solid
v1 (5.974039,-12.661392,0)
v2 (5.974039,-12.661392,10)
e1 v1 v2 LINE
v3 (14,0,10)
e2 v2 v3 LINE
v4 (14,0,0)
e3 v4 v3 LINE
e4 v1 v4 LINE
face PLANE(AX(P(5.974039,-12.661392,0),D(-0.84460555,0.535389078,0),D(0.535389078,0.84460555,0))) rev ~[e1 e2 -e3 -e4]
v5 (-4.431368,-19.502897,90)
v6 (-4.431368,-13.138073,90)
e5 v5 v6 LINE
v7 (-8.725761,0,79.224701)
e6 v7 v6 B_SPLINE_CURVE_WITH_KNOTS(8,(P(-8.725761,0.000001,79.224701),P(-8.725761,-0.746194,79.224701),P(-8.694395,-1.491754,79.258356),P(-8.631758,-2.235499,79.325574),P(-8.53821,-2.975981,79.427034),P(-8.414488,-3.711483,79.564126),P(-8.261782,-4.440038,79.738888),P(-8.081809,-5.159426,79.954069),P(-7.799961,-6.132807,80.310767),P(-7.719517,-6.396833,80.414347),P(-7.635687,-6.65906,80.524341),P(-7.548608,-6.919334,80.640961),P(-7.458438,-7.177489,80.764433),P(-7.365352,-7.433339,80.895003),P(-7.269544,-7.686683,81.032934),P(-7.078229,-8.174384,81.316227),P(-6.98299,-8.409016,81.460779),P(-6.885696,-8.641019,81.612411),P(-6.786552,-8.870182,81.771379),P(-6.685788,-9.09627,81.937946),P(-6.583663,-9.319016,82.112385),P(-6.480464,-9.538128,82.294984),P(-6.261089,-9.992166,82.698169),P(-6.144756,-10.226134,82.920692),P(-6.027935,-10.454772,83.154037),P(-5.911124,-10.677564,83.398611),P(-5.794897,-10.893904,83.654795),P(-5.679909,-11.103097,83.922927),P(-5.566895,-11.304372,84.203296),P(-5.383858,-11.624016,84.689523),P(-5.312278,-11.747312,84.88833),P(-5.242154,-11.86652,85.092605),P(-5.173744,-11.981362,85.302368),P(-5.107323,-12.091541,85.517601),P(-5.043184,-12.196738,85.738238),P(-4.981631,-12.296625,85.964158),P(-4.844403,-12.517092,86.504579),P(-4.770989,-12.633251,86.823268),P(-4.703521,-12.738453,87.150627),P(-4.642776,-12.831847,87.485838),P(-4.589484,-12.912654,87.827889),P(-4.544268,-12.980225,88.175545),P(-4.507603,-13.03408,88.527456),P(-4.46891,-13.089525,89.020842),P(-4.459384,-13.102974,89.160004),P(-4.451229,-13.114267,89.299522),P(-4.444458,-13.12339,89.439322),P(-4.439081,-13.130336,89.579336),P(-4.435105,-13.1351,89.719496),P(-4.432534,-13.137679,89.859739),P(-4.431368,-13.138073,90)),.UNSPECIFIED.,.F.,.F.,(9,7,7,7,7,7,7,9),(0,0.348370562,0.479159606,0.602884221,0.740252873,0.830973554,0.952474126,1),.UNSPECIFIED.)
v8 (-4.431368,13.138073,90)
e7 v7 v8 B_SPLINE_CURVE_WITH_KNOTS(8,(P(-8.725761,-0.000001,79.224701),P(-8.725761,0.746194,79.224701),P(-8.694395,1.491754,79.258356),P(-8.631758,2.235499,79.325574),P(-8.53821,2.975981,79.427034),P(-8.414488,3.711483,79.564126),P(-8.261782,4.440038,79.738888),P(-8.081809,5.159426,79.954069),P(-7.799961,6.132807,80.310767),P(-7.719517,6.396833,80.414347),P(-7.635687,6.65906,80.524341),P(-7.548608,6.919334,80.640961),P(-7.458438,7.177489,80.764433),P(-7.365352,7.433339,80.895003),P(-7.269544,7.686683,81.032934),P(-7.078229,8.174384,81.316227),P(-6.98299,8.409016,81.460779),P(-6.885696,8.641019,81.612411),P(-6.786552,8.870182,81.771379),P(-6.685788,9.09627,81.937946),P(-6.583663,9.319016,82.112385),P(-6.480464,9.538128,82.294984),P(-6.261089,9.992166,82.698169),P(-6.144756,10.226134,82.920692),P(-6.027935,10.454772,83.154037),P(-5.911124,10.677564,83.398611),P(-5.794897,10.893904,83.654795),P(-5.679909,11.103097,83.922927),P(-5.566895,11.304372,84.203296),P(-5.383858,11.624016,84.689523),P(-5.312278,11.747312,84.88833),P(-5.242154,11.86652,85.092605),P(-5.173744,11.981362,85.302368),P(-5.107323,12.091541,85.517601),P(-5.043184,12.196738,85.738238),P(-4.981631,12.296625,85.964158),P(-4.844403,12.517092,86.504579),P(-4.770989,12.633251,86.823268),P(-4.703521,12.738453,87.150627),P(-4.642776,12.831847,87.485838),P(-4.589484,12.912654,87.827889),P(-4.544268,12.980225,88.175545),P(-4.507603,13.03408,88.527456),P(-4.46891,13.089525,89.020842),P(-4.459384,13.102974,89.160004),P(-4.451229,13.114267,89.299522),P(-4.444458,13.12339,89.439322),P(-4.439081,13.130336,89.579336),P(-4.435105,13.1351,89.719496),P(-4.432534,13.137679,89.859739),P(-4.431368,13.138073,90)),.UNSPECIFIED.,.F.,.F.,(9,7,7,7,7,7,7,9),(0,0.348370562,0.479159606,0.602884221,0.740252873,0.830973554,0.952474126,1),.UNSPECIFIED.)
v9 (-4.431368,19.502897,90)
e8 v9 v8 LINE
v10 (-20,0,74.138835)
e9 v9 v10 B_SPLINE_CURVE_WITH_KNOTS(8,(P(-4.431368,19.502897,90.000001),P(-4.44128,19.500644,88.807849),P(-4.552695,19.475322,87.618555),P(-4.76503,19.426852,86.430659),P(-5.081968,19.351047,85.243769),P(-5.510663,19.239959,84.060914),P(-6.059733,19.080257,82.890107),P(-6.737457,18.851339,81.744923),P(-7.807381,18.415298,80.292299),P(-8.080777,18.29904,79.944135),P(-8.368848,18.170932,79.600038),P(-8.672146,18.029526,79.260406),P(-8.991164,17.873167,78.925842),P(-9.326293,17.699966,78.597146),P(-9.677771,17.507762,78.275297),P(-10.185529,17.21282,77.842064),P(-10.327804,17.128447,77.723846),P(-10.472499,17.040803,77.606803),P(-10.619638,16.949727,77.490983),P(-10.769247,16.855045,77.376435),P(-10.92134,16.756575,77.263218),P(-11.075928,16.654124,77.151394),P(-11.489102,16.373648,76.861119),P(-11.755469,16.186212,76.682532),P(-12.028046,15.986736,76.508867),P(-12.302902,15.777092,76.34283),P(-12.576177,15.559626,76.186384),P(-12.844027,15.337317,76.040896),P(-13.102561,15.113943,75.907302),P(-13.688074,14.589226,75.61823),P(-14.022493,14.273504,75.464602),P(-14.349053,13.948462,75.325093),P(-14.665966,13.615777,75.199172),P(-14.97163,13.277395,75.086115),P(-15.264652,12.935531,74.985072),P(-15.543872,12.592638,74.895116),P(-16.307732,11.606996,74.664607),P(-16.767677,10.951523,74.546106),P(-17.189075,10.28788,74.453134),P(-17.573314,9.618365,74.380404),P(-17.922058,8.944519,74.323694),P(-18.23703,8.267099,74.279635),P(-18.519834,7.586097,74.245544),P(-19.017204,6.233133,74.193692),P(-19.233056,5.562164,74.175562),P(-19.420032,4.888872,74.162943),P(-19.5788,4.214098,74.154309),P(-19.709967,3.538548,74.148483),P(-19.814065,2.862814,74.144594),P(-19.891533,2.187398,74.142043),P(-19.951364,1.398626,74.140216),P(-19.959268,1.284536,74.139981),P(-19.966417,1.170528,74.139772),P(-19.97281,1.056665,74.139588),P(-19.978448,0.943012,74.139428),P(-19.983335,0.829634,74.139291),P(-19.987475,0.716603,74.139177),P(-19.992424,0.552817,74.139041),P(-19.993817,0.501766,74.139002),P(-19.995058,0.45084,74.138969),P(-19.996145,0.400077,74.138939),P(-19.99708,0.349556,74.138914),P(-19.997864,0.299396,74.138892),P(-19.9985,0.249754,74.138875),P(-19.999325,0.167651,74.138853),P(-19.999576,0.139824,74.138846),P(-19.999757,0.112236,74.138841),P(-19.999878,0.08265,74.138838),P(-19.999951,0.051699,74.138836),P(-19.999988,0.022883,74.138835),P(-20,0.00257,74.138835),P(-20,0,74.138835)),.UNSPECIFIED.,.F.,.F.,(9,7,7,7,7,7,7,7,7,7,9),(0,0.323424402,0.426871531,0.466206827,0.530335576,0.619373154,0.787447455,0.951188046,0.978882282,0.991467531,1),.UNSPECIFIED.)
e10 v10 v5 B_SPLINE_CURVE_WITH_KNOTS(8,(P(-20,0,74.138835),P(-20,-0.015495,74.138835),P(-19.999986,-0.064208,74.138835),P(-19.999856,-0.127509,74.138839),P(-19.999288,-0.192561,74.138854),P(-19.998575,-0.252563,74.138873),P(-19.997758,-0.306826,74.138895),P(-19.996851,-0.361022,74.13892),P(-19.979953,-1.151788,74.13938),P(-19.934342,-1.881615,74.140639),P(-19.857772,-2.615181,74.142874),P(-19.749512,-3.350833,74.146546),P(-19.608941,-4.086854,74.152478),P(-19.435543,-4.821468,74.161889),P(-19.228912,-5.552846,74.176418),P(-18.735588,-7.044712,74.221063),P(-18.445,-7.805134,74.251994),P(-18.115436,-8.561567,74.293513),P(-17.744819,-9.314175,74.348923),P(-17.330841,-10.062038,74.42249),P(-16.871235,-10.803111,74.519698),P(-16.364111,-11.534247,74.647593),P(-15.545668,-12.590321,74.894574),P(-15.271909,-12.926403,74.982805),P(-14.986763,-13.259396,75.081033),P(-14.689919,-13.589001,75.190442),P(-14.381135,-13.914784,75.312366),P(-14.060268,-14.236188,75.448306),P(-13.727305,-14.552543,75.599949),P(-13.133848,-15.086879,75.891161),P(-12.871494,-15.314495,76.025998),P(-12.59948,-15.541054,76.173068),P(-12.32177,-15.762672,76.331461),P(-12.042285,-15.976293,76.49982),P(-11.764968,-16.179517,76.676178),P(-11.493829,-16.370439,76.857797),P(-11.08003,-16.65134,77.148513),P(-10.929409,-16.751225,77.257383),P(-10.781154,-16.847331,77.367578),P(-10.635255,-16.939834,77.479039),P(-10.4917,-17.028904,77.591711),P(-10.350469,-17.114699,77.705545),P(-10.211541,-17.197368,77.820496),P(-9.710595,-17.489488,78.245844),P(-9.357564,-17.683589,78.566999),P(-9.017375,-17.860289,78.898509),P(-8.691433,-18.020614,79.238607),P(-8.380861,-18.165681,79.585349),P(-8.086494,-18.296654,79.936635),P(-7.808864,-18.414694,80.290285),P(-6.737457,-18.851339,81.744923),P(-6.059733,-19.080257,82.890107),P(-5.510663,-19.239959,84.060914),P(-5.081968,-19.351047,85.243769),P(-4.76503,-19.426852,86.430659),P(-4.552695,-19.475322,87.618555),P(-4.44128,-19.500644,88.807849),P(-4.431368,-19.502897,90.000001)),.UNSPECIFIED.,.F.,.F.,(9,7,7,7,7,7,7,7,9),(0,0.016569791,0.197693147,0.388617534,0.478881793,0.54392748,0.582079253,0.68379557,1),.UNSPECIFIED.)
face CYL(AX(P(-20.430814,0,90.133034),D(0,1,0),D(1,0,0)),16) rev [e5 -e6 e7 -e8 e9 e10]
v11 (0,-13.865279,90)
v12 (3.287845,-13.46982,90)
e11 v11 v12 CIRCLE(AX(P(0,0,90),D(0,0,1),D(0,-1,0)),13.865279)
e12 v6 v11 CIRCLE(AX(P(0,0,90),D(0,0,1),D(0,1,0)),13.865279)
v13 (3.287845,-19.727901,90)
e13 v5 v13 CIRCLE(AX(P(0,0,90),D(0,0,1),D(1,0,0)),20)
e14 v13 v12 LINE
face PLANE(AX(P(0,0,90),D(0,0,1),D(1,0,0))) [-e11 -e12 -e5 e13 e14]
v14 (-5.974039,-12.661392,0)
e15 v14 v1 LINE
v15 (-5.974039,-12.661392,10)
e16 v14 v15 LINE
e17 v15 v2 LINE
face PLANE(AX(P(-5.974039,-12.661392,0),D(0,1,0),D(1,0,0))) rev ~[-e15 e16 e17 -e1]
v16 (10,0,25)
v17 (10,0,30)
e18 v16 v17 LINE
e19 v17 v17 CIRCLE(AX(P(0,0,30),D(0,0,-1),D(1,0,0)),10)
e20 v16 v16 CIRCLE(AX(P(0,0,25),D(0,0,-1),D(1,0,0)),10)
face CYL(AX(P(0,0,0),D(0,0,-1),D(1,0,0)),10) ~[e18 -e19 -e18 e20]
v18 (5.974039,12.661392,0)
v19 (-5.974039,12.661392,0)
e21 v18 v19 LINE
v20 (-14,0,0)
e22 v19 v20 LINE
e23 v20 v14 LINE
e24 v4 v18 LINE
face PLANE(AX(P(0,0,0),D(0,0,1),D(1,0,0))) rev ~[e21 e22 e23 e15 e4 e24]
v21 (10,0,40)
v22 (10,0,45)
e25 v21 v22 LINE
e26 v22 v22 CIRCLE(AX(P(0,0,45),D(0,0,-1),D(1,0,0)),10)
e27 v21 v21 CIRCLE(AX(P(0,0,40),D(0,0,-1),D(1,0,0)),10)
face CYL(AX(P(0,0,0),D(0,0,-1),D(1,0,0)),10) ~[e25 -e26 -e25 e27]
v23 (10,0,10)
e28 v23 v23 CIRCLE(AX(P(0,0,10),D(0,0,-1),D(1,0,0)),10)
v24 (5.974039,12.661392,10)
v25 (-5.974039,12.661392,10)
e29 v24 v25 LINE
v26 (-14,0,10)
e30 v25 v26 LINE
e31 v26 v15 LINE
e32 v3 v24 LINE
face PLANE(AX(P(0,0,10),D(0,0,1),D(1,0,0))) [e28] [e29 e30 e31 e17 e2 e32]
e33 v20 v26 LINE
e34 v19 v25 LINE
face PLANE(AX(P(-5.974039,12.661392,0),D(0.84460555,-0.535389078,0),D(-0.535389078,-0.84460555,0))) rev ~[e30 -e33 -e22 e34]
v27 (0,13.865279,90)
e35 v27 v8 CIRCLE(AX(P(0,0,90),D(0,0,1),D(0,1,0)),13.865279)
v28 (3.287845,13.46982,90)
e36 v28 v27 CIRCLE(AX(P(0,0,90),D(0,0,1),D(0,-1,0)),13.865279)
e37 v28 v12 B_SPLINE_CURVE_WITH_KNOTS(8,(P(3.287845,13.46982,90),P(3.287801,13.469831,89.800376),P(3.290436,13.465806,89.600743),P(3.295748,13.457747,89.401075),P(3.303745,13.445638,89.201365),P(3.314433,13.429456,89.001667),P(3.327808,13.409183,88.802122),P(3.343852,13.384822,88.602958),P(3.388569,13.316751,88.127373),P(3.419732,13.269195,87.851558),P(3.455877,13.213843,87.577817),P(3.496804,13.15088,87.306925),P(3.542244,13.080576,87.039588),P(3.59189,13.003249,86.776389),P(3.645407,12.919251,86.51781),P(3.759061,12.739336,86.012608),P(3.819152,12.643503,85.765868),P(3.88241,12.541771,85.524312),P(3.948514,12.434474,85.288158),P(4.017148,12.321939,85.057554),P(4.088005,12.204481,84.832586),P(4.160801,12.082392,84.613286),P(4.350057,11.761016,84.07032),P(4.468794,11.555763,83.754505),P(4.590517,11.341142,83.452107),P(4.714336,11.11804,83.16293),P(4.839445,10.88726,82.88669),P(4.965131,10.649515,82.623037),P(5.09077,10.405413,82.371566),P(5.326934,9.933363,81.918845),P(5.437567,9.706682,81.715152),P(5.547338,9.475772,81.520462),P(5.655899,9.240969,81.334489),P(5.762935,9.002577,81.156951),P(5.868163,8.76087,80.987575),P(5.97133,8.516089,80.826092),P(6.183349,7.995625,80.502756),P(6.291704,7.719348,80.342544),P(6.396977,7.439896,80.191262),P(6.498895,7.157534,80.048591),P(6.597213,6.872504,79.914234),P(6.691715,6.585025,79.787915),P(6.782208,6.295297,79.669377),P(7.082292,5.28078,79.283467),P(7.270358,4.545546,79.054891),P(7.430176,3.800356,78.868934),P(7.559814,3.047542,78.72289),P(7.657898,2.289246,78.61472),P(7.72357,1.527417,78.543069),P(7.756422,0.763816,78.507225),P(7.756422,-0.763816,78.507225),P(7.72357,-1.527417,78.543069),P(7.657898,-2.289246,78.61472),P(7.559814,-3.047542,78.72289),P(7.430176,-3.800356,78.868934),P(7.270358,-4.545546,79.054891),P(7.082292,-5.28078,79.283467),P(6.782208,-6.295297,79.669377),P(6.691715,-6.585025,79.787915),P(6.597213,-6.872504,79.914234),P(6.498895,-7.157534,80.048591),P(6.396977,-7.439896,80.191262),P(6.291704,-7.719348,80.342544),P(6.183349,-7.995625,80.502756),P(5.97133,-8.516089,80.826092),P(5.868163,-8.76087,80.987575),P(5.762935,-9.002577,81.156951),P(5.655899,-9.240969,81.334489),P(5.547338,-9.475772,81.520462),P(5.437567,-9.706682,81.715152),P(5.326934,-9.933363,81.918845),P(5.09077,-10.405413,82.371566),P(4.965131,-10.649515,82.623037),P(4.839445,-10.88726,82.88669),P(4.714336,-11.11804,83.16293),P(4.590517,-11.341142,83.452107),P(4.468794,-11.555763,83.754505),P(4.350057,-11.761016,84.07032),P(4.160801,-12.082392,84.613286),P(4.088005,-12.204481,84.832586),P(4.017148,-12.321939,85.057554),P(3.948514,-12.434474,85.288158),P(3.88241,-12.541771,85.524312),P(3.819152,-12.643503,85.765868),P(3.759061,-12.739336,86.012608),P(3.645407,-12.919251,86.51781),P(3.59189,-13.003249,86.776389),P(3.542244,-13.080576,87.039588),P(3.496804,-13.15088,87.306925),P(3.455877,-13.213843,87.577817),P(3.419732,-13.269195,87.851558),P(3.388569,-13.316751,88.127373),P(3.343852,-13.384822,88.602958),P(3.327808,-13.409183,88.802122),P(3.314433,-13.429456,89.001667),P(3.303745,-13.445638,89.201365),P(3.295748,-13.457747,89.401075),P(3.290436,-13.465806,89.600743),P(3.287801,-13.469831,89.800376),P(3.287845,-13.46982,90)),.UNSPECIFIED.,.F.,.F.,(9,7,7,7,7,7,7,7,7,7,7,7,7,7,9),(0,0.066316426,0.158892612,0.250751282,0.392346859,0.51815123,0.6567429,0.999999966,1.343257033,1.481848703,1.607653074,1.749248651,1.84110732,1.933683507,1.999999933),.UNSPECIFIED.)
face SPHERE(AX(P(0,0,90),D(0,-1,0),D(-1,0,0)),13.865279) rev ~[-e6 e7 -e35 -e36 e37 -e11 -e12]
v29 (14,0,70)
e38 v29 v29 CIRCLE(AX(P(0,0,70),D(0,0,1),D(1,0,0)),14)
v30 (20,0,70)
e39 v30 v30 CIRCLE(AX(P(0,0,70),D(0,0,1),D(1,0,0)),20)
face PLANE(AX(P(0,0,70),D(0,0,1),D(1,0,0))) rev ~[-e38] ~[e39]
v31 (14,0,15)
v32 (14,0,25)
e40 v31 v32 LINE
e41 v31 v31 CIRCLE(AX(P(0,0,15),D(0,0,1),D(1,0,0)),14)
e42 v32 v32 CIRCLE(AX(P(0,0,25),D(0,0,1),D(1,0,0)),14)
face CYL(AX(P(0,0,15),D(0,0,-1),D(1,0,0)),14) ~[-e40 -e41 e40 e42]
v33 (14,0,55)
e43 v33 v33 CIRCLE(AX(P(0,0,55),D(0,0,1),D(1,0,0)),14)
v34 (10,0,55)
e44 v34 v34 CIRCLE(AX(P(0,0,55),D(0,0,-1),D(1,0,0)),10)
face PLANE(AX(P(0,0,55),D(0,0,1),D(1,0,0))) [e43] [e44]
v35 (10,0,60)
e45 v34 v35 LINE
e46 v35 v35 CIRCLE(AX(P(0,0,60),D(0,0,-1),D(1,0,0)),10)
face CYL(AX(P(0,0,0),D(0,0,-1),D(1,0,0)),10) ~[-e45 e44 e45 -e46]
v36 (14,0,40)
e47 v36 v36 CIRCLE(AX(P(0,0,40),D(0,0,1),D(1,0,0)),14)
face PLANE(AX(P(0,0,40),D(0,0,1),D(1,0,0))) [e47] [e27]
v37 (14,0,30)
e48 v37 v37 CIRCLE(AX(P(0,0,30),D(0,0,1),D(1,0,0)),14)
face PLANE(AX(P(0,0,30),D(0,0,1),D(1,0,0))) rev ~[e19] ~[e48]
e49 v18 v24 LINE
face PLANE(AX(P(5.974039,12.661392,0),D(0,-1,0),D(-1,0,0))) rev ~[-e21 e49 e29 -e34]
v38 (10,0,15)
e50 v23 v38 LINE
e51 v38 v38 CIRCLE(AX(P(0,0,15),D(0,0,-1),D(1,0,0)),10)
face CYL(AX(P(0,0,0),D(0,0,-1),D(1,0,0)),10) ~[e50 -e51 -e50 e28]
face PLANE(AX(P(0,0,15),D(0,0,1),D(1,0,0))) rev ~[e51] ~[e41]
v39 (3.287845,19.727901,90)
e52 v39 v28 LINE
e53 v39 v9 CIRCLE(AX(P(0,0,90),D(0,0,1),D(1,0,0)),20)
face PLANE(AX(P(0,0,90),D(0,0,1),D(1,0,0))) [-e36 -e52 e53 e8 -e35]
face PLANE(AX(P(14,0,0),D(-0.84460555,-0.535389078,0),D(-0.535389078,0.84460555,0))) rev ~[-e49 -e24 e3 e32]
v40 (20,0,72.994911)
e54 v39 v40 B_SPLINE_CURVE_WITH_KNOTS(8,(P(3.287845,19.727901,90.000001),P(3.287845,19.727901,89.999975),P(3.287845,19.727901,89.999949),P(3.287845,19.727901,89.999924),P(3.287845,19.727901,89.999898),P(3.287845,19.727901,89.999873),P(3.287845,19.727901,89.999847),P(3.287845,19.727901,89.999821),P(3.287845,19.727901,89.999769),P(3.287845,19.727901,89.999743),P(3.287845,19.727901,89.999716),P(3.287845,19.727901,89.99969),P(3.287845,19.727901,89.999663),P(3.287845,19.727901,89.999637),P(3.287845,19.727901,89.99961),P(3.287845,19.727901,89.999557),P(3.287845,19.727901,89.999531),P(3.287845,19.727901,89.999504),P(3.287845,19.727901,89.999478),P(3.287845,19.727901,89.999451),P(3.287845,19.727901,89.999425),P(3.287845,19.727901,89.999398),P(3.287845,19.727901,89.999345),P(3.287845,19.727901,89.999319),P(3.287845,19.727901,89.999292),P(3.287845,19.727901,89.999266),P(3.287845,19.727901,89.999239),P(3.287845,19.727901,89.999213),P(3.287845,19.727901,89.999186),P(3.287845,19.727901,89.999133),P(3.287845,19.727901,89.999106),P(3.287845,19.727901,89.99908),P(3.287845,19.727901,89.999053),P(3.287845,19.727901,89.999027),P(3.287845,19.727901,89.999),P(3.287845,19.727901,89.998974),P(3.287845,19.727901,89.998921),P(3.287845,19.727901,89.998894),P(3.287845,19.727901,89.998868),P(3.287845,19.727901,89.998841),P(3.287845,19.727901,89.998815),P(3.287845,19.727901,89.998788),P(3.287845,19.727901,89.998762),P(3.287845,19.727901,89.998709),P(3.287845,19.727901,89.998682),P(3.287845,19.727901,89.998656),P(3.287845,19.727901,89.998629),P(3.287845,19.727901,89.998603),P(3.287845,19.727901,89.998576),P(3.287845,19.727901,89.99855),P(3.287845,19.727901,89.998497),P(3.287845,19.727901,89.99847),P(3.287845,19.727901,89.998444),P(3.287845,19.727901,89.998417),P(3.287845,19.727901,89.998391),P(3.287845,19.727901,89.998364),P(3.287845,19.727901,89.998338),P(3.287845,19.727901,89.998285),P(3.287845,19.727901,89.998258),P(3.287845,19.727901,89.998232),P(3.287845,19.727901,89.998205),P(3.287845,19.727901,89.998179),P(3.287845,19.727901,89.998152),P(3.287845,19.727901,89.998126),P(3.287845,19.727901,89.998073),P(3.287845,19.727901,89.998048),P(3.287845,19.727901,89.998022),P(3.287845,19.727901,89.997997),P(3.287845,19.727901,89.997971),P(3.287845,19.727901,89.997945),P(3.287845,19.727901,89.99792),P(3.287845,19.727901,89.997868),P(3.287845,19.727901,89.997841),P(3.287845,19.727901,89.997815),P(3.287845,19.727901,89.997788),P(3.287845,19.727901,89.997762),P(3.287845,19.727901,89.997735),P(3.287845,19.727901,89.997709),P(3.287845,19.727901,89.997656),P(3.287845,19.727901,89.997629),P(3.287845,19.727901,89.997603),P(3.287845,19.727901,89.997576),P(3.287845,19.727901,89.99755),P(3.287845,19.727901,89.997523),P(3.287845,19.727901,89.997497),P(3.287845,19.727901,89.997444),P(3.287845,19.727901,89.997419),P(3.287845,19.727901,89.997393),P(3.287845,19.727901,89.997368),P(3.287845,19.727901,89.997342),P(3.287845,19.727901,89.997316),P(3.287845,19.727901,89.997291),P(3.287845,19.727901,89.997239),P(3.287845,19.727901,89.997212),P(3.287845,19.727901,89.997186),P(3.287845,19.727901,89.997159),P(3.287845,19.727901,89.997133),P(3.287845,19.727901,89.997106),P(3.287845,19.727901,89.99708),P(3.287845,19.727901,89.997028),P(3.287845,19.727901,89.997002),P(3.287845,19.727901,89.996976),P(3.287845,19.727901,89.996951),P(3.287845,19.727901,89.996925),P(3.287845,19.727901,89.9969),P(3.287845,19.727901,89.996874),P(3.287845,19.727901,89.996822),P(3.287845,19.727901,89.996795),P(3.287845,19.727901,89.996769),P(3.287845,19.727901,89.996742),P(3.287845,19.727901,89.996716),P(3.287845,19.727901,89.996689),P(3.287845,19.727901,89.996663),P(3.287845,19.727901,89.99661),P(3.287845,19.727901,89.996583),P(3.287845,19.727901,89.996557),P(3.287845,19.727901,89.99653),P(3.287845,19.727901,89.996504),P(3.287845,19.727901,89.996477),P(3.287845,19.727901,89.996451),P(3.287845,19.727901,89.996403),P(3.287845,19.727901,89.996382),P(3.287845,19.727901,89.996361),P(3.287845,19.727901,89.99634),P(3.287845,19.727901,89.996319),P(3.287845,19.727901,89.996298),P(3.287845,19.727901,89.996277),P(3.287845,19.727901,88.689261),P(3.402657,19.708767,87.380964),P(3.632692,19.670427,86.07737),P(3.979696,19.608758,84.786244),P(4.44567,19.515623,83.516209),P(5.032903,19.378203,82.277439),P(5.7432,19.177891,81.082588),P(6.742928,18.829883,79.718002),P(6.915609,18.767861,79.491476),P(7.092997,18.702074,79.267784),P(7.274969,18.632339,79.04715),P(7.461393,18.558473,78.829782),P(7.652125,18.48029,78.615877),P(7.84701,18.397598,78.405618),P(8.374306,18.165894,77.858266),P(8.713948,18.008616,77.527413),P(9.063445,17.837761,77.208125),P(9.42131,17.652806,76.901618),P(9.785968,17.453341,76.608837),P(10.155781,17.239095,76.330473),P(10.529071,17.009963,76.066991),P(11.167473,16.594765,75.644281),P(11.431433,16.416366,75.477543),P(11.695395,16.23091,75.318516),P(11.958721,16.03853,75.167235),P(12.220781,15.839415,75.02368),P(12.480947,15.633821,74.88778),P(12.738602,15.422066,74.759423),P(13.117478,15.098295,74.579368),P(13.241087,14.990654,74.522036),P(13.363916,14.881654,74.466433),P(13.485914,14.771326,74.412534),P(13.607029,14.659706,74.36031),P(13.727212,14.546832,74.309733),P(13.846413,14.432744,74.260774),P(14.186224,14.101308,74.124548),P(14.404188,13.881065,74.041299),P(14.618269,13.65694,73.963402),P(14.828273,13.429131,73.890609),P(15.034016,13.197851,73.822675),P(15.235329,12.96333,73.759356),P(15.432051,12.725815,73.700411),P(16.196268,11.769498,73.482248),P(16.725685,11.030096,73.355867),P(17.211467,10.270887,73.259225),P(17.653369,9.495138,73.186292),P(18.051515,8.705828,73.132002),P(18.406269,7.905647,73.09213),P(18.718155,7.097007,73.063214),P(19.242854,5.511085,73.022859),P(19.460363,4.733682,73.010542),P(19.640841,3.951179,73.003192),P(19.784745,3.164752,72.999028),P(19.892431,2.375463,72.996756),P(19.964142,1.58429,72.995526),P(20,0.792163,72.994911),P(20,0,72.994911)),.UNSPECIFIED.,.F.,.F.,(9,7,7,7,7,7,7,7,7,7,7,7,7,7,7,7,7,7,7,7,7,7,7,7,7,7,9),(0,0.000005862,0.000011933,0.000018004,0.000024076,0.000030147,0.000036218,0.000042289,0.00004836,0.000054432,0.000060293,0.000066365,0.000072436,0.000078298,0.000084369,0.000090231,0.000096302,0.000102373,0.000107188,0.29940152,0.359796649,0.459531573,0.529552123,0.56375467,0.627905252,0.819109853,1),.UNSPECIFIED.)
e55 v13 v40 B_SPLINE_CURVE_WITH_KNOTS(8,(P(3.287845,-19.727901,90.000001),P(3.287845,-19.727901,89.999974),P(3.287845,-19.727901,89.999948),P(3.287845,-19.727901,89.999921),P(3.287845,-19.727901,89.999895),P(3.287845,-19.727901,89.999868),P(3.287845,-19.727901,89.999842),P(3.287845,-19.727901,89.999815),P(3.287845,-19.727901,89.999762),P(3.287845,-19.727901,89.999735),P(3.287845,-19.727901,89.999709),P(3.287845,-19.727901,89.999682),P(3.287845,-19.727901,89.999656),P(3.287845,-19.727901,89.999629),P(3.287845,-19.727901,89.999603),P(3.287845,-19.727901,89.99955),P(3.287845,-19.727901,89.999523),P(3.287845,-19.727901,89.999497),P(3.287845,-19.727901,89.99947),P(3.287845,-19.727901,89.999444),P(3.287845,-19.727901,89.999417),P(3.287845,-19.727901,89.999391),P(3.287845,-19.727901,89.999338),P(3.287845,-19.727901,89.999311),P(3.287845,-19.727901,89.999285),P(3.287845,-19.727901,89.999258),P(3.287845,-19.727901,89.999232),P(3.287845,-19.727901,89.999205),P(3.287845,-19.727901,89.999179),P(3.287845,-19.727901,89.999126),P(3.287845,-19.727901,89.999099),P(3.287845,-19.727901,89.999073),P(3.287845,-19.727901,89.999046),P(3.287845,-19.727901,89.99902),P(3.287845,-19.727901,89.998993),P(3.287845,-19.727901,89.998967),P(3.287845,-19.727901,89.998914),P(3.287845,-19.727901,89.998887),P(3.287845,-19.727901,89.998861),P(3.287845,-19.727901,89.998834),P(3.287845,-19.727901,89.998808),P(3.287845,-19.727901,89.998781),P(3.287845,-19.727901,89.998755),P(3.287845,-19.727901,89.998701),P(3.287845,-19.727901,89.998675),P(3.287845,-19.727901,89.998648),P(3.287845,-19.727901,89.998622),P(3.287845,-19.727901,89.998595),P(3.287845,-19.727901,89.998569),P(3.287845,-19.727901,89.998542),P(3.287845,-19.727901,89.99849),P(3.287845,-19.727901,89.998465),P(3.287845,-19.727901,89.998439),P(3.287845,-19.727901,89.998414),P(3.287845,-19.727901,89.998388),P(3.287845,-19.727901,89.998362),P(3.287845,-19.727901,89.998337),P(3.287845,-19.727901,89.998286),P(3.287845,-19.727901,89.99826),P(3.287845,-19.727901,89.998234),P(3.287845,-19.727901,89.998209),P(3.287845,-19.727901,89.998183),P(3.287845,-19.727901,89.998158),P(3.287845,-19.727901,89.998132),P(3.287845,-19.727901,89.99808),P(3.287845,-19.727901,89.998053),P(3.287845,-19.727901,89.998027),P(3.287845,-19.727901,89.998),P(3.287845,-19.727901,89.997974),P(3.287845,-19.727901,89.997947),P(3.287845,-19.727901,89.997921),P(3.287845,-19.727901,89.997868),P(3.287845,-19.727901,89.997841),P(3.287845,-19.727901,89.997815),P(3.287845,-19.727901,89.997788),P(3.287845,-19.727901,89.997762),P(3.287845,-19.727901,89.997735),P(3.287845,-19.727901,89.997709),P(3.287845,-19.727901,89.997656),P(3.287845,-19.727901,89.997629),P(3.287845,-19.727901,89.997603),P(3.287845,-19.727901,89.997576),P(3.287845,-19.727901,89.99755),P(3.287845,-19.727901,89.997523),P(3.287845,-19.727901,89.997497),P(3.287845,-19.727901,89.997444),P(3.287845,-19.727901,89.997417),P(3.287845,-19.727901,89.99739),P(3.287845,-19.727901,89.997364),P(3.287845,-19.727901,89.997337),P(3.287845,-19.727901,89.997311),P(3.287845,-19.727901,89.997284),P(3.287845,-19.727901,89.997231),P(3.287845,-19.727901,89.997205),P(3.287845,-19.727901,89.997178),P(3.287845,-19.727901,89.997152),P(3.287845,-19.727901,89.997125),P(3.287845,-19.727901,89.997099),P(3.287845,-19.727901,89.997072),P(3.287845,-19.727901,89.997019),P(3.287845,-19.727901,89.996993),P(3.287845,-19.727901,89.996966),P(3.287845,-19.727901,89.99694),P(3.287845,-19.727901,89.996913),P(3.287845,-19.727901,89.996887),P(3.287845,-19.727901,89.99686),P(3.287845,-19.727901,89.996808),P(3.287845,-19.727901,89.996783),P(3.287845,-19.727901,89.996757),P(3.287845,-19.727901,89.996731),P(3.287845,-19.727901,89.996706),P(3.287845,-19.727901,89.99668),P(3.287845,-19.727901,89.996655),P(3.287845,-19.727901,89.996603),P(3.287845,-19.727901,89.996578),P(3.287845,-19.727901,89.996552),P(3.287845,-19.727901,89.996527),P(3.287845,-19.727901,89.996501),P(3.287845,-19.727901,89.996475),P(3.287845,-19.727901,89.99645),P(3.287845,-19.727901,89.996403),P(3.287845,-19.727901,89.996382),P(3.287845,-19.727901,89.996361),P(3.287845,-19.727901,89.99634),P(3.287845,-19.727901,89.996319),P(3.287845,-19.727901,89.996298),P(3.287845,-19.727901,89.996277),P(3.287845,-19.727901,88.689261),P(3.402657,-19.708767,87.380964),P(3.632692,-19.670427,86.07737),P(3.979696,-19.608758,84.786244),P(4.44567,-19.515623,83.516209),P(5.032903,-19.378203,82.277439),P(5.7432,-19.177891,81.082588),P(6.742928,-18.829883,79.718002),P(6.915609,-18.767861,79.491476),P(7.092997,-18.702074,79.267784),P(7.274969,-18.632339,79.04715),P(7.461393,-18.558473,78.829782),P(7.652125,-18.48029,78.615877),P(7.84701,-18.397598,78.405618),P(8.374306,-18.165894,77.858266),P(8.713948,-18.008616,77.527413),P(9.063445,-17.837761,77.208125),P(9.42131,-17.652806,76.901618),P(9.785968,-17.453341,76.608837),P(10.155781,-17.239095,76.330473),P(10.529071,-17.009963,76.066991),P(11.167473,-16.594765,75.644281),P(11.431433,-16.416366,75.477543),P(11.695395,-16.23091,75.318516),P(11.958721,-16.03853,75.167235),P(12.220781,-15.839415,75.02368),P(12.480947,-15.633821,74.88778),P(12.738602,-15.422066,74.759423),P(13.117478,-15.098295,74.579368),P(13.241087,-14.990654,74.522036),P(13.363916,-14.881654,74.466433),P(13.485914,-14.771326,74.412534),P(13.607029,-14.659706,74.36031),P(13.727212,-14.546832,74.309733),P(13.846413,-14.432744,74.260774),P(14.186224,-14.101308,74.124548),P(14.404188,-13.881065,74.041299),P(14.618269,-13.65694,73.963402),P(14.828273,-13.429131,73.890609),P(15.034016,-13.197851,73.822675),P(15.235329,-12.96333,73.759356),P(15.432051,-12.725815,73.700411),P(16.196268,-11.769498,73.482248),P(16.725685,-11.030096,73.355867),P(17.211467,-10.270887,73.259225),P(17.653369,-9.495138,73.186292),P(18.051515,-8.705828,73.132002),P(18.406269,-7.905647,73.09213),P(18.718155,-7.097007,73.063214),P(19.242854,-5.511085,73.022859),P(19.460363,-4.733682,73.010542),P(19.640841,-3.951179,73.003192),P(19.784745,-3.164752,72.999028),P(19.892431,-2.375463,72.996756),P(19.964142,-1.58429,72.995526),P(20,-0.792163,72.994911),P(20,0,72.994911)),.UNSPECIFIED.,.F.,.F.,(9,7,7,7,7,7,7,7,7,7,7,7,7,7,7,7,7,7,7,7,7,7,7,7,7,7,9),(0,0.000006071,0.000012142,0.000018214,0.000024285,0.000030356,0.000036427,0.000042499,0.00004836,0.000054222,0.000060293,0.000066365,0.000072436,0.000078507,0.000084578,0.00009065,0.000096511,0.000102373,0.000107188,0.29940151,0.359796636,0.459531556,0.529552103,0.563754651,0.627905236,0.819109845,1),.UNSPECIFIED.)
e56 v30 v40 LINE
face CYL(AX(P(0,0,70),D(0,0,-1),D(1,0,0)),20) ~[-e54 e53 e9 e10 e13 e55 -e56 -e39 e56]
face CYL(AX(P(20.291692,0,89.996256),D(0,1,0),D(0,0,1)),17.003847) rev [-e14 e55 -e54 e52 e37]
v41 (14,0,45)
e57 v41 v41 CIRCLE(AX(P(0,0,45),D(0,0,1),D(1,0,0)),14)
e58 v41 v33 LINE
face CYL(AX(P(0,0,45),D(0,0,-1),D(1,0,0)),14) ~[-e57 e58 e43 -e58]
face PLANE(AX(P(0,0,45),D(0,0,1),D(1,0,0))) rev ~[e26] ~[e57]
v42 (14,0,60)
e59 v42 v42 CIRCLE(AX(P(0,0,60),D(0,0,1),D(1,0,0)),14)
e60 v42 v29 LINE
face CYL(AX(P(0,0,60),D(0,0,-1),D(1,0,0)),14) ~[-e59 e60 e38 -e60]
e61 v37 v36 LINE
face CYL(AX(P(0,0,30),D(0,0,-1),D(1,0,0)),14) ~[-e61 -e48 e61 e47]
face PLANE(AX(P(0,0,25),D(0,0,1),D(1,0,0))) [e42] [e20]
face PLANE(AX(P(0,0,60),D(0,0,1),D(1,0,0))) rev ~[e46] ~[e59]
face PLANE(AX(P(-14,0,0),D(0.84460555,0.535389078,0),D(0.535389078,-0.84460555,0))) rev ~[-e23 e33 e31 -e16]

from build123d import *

# Parameters (mm, degrees)
F0_R           = 10
F1_DEPTH       = 80
F3_DEPTH       = 10
F6_R           = 14
F7_DEPTH       = 10
F9_R           = 14
F10_DEPTH      = 10
F12_R          = 14
F13_DEPTH      = 10
F15_R          = 14
F16_DEPTH      = 10
F17_R          = 20
F18_DEPTH      = 20
F22_DEPTH      = 25
F22_DEPTH_BACK = 25
F23_R          = 16
F24_DEPTH      = 25
F24_DEPTH_BACK = 25


with BuildPart() as f1:
    # F0 (on Top) → F1 (new body)
    with BuildSketch(Plane.XY):
        Circle(F0_R)
    extrude(amount=F1_DEPTH)

    # F2 (on Top) → F3 (join)
    with BuildSketch(Plane.XY):
        Polygon((14, 0), (5.9740389772, 12.6613924313), (-0.0259610228, 12.6613924313), (-5.9740389772, 12.6613924313), (-14, 0), (-5.9740389772, -12.6613924313), (0.0259610228, -12.6613924313), (5.9740389772, -12.6613924313), align=None)
    extrude(amount=F3_DEPTH)

    # F6 (on offset) → F7 (join)
    with BuildSketch(Plane.XY.offset(15)):
        Circle(F6_R)
    extrude(amount=F7_DEPTH)

    # F9 (on offset) → F10 (join)
    with BuildSketch(Plane.XY.offset(30)):
        Circle(F9_R)
    extrude(amount=F10_DEPTH)

    # F12 (on offset) → F13 (join)
    with BuildSketch(Plane.XY.offset(45)):
        Circle(F12_R)
    extrude(amount=F13_DEPTH)

    # F15 (on offset) → F16 (join)
    with BuildSketch(Plane.XY.offset(60)):
        Circle(F15_R)
    extrude(amount=F16_DEPTH)

    # F17 (on face) → F18 (join)
    with BuildSketch(Plane.XY.offset(70)):
        Circle(F17_R)
    extrude(amount=F18_DEPTH)

    # F19 (on face) → F20 (revolve, cut)
    with BuildSketch(Plane.XY.offset(90)):
        with BuildLine():
            Line((0, -13.8652793043), (0, 13.8652793043))
            ThreePointArc((0, 13.8652793043), (-13.8652793043, 0), (0, -13.8652793043))
        make_face()
    revolve(axis=Axis((0, 0, 90), (0, -1, 0)), mode=Mode.SUBTRACT)

    # F21 (on Front) → F22 (cut, two sides)
    with BuildSketch(Plane.XZ) as f22_sk:
        with BuildLine():
            Line((20.291691646, 89.9962559342), (20.291691646, 107.0001030122))
            ThreePointArc((20.291691646, 107.0001030122), (3.287844568, 89.9962559342), (20.291691646, 72.9924088562))
            Line((20.291691646, 72.9924088562), (20.291691646, 89.9962559342))
        make_face()
    extrude(amount=F22_DEPTH, mode=Mode.SUBTRACT)
    extrude(f22_sk.sketch, amount=-F22_DEPTH_BACK, mode=Mode.SUBTRACT)

    # F23 (on Front) → F24 (cut, two sides)
    with BuildSketch(Plane.XZ) as f24_sk:
        with Locations((-20.4308144748, 90.1330336928)):
            Circle(F23_R)
    extrude(amount=-F24_DEPTH, mode=Mode.SUBTRACT)
    extrude(f24_sk.sketch, amount=F24_DEPTH_BACK, mode=Mode.SUBTRACT)


solid = f1.part
